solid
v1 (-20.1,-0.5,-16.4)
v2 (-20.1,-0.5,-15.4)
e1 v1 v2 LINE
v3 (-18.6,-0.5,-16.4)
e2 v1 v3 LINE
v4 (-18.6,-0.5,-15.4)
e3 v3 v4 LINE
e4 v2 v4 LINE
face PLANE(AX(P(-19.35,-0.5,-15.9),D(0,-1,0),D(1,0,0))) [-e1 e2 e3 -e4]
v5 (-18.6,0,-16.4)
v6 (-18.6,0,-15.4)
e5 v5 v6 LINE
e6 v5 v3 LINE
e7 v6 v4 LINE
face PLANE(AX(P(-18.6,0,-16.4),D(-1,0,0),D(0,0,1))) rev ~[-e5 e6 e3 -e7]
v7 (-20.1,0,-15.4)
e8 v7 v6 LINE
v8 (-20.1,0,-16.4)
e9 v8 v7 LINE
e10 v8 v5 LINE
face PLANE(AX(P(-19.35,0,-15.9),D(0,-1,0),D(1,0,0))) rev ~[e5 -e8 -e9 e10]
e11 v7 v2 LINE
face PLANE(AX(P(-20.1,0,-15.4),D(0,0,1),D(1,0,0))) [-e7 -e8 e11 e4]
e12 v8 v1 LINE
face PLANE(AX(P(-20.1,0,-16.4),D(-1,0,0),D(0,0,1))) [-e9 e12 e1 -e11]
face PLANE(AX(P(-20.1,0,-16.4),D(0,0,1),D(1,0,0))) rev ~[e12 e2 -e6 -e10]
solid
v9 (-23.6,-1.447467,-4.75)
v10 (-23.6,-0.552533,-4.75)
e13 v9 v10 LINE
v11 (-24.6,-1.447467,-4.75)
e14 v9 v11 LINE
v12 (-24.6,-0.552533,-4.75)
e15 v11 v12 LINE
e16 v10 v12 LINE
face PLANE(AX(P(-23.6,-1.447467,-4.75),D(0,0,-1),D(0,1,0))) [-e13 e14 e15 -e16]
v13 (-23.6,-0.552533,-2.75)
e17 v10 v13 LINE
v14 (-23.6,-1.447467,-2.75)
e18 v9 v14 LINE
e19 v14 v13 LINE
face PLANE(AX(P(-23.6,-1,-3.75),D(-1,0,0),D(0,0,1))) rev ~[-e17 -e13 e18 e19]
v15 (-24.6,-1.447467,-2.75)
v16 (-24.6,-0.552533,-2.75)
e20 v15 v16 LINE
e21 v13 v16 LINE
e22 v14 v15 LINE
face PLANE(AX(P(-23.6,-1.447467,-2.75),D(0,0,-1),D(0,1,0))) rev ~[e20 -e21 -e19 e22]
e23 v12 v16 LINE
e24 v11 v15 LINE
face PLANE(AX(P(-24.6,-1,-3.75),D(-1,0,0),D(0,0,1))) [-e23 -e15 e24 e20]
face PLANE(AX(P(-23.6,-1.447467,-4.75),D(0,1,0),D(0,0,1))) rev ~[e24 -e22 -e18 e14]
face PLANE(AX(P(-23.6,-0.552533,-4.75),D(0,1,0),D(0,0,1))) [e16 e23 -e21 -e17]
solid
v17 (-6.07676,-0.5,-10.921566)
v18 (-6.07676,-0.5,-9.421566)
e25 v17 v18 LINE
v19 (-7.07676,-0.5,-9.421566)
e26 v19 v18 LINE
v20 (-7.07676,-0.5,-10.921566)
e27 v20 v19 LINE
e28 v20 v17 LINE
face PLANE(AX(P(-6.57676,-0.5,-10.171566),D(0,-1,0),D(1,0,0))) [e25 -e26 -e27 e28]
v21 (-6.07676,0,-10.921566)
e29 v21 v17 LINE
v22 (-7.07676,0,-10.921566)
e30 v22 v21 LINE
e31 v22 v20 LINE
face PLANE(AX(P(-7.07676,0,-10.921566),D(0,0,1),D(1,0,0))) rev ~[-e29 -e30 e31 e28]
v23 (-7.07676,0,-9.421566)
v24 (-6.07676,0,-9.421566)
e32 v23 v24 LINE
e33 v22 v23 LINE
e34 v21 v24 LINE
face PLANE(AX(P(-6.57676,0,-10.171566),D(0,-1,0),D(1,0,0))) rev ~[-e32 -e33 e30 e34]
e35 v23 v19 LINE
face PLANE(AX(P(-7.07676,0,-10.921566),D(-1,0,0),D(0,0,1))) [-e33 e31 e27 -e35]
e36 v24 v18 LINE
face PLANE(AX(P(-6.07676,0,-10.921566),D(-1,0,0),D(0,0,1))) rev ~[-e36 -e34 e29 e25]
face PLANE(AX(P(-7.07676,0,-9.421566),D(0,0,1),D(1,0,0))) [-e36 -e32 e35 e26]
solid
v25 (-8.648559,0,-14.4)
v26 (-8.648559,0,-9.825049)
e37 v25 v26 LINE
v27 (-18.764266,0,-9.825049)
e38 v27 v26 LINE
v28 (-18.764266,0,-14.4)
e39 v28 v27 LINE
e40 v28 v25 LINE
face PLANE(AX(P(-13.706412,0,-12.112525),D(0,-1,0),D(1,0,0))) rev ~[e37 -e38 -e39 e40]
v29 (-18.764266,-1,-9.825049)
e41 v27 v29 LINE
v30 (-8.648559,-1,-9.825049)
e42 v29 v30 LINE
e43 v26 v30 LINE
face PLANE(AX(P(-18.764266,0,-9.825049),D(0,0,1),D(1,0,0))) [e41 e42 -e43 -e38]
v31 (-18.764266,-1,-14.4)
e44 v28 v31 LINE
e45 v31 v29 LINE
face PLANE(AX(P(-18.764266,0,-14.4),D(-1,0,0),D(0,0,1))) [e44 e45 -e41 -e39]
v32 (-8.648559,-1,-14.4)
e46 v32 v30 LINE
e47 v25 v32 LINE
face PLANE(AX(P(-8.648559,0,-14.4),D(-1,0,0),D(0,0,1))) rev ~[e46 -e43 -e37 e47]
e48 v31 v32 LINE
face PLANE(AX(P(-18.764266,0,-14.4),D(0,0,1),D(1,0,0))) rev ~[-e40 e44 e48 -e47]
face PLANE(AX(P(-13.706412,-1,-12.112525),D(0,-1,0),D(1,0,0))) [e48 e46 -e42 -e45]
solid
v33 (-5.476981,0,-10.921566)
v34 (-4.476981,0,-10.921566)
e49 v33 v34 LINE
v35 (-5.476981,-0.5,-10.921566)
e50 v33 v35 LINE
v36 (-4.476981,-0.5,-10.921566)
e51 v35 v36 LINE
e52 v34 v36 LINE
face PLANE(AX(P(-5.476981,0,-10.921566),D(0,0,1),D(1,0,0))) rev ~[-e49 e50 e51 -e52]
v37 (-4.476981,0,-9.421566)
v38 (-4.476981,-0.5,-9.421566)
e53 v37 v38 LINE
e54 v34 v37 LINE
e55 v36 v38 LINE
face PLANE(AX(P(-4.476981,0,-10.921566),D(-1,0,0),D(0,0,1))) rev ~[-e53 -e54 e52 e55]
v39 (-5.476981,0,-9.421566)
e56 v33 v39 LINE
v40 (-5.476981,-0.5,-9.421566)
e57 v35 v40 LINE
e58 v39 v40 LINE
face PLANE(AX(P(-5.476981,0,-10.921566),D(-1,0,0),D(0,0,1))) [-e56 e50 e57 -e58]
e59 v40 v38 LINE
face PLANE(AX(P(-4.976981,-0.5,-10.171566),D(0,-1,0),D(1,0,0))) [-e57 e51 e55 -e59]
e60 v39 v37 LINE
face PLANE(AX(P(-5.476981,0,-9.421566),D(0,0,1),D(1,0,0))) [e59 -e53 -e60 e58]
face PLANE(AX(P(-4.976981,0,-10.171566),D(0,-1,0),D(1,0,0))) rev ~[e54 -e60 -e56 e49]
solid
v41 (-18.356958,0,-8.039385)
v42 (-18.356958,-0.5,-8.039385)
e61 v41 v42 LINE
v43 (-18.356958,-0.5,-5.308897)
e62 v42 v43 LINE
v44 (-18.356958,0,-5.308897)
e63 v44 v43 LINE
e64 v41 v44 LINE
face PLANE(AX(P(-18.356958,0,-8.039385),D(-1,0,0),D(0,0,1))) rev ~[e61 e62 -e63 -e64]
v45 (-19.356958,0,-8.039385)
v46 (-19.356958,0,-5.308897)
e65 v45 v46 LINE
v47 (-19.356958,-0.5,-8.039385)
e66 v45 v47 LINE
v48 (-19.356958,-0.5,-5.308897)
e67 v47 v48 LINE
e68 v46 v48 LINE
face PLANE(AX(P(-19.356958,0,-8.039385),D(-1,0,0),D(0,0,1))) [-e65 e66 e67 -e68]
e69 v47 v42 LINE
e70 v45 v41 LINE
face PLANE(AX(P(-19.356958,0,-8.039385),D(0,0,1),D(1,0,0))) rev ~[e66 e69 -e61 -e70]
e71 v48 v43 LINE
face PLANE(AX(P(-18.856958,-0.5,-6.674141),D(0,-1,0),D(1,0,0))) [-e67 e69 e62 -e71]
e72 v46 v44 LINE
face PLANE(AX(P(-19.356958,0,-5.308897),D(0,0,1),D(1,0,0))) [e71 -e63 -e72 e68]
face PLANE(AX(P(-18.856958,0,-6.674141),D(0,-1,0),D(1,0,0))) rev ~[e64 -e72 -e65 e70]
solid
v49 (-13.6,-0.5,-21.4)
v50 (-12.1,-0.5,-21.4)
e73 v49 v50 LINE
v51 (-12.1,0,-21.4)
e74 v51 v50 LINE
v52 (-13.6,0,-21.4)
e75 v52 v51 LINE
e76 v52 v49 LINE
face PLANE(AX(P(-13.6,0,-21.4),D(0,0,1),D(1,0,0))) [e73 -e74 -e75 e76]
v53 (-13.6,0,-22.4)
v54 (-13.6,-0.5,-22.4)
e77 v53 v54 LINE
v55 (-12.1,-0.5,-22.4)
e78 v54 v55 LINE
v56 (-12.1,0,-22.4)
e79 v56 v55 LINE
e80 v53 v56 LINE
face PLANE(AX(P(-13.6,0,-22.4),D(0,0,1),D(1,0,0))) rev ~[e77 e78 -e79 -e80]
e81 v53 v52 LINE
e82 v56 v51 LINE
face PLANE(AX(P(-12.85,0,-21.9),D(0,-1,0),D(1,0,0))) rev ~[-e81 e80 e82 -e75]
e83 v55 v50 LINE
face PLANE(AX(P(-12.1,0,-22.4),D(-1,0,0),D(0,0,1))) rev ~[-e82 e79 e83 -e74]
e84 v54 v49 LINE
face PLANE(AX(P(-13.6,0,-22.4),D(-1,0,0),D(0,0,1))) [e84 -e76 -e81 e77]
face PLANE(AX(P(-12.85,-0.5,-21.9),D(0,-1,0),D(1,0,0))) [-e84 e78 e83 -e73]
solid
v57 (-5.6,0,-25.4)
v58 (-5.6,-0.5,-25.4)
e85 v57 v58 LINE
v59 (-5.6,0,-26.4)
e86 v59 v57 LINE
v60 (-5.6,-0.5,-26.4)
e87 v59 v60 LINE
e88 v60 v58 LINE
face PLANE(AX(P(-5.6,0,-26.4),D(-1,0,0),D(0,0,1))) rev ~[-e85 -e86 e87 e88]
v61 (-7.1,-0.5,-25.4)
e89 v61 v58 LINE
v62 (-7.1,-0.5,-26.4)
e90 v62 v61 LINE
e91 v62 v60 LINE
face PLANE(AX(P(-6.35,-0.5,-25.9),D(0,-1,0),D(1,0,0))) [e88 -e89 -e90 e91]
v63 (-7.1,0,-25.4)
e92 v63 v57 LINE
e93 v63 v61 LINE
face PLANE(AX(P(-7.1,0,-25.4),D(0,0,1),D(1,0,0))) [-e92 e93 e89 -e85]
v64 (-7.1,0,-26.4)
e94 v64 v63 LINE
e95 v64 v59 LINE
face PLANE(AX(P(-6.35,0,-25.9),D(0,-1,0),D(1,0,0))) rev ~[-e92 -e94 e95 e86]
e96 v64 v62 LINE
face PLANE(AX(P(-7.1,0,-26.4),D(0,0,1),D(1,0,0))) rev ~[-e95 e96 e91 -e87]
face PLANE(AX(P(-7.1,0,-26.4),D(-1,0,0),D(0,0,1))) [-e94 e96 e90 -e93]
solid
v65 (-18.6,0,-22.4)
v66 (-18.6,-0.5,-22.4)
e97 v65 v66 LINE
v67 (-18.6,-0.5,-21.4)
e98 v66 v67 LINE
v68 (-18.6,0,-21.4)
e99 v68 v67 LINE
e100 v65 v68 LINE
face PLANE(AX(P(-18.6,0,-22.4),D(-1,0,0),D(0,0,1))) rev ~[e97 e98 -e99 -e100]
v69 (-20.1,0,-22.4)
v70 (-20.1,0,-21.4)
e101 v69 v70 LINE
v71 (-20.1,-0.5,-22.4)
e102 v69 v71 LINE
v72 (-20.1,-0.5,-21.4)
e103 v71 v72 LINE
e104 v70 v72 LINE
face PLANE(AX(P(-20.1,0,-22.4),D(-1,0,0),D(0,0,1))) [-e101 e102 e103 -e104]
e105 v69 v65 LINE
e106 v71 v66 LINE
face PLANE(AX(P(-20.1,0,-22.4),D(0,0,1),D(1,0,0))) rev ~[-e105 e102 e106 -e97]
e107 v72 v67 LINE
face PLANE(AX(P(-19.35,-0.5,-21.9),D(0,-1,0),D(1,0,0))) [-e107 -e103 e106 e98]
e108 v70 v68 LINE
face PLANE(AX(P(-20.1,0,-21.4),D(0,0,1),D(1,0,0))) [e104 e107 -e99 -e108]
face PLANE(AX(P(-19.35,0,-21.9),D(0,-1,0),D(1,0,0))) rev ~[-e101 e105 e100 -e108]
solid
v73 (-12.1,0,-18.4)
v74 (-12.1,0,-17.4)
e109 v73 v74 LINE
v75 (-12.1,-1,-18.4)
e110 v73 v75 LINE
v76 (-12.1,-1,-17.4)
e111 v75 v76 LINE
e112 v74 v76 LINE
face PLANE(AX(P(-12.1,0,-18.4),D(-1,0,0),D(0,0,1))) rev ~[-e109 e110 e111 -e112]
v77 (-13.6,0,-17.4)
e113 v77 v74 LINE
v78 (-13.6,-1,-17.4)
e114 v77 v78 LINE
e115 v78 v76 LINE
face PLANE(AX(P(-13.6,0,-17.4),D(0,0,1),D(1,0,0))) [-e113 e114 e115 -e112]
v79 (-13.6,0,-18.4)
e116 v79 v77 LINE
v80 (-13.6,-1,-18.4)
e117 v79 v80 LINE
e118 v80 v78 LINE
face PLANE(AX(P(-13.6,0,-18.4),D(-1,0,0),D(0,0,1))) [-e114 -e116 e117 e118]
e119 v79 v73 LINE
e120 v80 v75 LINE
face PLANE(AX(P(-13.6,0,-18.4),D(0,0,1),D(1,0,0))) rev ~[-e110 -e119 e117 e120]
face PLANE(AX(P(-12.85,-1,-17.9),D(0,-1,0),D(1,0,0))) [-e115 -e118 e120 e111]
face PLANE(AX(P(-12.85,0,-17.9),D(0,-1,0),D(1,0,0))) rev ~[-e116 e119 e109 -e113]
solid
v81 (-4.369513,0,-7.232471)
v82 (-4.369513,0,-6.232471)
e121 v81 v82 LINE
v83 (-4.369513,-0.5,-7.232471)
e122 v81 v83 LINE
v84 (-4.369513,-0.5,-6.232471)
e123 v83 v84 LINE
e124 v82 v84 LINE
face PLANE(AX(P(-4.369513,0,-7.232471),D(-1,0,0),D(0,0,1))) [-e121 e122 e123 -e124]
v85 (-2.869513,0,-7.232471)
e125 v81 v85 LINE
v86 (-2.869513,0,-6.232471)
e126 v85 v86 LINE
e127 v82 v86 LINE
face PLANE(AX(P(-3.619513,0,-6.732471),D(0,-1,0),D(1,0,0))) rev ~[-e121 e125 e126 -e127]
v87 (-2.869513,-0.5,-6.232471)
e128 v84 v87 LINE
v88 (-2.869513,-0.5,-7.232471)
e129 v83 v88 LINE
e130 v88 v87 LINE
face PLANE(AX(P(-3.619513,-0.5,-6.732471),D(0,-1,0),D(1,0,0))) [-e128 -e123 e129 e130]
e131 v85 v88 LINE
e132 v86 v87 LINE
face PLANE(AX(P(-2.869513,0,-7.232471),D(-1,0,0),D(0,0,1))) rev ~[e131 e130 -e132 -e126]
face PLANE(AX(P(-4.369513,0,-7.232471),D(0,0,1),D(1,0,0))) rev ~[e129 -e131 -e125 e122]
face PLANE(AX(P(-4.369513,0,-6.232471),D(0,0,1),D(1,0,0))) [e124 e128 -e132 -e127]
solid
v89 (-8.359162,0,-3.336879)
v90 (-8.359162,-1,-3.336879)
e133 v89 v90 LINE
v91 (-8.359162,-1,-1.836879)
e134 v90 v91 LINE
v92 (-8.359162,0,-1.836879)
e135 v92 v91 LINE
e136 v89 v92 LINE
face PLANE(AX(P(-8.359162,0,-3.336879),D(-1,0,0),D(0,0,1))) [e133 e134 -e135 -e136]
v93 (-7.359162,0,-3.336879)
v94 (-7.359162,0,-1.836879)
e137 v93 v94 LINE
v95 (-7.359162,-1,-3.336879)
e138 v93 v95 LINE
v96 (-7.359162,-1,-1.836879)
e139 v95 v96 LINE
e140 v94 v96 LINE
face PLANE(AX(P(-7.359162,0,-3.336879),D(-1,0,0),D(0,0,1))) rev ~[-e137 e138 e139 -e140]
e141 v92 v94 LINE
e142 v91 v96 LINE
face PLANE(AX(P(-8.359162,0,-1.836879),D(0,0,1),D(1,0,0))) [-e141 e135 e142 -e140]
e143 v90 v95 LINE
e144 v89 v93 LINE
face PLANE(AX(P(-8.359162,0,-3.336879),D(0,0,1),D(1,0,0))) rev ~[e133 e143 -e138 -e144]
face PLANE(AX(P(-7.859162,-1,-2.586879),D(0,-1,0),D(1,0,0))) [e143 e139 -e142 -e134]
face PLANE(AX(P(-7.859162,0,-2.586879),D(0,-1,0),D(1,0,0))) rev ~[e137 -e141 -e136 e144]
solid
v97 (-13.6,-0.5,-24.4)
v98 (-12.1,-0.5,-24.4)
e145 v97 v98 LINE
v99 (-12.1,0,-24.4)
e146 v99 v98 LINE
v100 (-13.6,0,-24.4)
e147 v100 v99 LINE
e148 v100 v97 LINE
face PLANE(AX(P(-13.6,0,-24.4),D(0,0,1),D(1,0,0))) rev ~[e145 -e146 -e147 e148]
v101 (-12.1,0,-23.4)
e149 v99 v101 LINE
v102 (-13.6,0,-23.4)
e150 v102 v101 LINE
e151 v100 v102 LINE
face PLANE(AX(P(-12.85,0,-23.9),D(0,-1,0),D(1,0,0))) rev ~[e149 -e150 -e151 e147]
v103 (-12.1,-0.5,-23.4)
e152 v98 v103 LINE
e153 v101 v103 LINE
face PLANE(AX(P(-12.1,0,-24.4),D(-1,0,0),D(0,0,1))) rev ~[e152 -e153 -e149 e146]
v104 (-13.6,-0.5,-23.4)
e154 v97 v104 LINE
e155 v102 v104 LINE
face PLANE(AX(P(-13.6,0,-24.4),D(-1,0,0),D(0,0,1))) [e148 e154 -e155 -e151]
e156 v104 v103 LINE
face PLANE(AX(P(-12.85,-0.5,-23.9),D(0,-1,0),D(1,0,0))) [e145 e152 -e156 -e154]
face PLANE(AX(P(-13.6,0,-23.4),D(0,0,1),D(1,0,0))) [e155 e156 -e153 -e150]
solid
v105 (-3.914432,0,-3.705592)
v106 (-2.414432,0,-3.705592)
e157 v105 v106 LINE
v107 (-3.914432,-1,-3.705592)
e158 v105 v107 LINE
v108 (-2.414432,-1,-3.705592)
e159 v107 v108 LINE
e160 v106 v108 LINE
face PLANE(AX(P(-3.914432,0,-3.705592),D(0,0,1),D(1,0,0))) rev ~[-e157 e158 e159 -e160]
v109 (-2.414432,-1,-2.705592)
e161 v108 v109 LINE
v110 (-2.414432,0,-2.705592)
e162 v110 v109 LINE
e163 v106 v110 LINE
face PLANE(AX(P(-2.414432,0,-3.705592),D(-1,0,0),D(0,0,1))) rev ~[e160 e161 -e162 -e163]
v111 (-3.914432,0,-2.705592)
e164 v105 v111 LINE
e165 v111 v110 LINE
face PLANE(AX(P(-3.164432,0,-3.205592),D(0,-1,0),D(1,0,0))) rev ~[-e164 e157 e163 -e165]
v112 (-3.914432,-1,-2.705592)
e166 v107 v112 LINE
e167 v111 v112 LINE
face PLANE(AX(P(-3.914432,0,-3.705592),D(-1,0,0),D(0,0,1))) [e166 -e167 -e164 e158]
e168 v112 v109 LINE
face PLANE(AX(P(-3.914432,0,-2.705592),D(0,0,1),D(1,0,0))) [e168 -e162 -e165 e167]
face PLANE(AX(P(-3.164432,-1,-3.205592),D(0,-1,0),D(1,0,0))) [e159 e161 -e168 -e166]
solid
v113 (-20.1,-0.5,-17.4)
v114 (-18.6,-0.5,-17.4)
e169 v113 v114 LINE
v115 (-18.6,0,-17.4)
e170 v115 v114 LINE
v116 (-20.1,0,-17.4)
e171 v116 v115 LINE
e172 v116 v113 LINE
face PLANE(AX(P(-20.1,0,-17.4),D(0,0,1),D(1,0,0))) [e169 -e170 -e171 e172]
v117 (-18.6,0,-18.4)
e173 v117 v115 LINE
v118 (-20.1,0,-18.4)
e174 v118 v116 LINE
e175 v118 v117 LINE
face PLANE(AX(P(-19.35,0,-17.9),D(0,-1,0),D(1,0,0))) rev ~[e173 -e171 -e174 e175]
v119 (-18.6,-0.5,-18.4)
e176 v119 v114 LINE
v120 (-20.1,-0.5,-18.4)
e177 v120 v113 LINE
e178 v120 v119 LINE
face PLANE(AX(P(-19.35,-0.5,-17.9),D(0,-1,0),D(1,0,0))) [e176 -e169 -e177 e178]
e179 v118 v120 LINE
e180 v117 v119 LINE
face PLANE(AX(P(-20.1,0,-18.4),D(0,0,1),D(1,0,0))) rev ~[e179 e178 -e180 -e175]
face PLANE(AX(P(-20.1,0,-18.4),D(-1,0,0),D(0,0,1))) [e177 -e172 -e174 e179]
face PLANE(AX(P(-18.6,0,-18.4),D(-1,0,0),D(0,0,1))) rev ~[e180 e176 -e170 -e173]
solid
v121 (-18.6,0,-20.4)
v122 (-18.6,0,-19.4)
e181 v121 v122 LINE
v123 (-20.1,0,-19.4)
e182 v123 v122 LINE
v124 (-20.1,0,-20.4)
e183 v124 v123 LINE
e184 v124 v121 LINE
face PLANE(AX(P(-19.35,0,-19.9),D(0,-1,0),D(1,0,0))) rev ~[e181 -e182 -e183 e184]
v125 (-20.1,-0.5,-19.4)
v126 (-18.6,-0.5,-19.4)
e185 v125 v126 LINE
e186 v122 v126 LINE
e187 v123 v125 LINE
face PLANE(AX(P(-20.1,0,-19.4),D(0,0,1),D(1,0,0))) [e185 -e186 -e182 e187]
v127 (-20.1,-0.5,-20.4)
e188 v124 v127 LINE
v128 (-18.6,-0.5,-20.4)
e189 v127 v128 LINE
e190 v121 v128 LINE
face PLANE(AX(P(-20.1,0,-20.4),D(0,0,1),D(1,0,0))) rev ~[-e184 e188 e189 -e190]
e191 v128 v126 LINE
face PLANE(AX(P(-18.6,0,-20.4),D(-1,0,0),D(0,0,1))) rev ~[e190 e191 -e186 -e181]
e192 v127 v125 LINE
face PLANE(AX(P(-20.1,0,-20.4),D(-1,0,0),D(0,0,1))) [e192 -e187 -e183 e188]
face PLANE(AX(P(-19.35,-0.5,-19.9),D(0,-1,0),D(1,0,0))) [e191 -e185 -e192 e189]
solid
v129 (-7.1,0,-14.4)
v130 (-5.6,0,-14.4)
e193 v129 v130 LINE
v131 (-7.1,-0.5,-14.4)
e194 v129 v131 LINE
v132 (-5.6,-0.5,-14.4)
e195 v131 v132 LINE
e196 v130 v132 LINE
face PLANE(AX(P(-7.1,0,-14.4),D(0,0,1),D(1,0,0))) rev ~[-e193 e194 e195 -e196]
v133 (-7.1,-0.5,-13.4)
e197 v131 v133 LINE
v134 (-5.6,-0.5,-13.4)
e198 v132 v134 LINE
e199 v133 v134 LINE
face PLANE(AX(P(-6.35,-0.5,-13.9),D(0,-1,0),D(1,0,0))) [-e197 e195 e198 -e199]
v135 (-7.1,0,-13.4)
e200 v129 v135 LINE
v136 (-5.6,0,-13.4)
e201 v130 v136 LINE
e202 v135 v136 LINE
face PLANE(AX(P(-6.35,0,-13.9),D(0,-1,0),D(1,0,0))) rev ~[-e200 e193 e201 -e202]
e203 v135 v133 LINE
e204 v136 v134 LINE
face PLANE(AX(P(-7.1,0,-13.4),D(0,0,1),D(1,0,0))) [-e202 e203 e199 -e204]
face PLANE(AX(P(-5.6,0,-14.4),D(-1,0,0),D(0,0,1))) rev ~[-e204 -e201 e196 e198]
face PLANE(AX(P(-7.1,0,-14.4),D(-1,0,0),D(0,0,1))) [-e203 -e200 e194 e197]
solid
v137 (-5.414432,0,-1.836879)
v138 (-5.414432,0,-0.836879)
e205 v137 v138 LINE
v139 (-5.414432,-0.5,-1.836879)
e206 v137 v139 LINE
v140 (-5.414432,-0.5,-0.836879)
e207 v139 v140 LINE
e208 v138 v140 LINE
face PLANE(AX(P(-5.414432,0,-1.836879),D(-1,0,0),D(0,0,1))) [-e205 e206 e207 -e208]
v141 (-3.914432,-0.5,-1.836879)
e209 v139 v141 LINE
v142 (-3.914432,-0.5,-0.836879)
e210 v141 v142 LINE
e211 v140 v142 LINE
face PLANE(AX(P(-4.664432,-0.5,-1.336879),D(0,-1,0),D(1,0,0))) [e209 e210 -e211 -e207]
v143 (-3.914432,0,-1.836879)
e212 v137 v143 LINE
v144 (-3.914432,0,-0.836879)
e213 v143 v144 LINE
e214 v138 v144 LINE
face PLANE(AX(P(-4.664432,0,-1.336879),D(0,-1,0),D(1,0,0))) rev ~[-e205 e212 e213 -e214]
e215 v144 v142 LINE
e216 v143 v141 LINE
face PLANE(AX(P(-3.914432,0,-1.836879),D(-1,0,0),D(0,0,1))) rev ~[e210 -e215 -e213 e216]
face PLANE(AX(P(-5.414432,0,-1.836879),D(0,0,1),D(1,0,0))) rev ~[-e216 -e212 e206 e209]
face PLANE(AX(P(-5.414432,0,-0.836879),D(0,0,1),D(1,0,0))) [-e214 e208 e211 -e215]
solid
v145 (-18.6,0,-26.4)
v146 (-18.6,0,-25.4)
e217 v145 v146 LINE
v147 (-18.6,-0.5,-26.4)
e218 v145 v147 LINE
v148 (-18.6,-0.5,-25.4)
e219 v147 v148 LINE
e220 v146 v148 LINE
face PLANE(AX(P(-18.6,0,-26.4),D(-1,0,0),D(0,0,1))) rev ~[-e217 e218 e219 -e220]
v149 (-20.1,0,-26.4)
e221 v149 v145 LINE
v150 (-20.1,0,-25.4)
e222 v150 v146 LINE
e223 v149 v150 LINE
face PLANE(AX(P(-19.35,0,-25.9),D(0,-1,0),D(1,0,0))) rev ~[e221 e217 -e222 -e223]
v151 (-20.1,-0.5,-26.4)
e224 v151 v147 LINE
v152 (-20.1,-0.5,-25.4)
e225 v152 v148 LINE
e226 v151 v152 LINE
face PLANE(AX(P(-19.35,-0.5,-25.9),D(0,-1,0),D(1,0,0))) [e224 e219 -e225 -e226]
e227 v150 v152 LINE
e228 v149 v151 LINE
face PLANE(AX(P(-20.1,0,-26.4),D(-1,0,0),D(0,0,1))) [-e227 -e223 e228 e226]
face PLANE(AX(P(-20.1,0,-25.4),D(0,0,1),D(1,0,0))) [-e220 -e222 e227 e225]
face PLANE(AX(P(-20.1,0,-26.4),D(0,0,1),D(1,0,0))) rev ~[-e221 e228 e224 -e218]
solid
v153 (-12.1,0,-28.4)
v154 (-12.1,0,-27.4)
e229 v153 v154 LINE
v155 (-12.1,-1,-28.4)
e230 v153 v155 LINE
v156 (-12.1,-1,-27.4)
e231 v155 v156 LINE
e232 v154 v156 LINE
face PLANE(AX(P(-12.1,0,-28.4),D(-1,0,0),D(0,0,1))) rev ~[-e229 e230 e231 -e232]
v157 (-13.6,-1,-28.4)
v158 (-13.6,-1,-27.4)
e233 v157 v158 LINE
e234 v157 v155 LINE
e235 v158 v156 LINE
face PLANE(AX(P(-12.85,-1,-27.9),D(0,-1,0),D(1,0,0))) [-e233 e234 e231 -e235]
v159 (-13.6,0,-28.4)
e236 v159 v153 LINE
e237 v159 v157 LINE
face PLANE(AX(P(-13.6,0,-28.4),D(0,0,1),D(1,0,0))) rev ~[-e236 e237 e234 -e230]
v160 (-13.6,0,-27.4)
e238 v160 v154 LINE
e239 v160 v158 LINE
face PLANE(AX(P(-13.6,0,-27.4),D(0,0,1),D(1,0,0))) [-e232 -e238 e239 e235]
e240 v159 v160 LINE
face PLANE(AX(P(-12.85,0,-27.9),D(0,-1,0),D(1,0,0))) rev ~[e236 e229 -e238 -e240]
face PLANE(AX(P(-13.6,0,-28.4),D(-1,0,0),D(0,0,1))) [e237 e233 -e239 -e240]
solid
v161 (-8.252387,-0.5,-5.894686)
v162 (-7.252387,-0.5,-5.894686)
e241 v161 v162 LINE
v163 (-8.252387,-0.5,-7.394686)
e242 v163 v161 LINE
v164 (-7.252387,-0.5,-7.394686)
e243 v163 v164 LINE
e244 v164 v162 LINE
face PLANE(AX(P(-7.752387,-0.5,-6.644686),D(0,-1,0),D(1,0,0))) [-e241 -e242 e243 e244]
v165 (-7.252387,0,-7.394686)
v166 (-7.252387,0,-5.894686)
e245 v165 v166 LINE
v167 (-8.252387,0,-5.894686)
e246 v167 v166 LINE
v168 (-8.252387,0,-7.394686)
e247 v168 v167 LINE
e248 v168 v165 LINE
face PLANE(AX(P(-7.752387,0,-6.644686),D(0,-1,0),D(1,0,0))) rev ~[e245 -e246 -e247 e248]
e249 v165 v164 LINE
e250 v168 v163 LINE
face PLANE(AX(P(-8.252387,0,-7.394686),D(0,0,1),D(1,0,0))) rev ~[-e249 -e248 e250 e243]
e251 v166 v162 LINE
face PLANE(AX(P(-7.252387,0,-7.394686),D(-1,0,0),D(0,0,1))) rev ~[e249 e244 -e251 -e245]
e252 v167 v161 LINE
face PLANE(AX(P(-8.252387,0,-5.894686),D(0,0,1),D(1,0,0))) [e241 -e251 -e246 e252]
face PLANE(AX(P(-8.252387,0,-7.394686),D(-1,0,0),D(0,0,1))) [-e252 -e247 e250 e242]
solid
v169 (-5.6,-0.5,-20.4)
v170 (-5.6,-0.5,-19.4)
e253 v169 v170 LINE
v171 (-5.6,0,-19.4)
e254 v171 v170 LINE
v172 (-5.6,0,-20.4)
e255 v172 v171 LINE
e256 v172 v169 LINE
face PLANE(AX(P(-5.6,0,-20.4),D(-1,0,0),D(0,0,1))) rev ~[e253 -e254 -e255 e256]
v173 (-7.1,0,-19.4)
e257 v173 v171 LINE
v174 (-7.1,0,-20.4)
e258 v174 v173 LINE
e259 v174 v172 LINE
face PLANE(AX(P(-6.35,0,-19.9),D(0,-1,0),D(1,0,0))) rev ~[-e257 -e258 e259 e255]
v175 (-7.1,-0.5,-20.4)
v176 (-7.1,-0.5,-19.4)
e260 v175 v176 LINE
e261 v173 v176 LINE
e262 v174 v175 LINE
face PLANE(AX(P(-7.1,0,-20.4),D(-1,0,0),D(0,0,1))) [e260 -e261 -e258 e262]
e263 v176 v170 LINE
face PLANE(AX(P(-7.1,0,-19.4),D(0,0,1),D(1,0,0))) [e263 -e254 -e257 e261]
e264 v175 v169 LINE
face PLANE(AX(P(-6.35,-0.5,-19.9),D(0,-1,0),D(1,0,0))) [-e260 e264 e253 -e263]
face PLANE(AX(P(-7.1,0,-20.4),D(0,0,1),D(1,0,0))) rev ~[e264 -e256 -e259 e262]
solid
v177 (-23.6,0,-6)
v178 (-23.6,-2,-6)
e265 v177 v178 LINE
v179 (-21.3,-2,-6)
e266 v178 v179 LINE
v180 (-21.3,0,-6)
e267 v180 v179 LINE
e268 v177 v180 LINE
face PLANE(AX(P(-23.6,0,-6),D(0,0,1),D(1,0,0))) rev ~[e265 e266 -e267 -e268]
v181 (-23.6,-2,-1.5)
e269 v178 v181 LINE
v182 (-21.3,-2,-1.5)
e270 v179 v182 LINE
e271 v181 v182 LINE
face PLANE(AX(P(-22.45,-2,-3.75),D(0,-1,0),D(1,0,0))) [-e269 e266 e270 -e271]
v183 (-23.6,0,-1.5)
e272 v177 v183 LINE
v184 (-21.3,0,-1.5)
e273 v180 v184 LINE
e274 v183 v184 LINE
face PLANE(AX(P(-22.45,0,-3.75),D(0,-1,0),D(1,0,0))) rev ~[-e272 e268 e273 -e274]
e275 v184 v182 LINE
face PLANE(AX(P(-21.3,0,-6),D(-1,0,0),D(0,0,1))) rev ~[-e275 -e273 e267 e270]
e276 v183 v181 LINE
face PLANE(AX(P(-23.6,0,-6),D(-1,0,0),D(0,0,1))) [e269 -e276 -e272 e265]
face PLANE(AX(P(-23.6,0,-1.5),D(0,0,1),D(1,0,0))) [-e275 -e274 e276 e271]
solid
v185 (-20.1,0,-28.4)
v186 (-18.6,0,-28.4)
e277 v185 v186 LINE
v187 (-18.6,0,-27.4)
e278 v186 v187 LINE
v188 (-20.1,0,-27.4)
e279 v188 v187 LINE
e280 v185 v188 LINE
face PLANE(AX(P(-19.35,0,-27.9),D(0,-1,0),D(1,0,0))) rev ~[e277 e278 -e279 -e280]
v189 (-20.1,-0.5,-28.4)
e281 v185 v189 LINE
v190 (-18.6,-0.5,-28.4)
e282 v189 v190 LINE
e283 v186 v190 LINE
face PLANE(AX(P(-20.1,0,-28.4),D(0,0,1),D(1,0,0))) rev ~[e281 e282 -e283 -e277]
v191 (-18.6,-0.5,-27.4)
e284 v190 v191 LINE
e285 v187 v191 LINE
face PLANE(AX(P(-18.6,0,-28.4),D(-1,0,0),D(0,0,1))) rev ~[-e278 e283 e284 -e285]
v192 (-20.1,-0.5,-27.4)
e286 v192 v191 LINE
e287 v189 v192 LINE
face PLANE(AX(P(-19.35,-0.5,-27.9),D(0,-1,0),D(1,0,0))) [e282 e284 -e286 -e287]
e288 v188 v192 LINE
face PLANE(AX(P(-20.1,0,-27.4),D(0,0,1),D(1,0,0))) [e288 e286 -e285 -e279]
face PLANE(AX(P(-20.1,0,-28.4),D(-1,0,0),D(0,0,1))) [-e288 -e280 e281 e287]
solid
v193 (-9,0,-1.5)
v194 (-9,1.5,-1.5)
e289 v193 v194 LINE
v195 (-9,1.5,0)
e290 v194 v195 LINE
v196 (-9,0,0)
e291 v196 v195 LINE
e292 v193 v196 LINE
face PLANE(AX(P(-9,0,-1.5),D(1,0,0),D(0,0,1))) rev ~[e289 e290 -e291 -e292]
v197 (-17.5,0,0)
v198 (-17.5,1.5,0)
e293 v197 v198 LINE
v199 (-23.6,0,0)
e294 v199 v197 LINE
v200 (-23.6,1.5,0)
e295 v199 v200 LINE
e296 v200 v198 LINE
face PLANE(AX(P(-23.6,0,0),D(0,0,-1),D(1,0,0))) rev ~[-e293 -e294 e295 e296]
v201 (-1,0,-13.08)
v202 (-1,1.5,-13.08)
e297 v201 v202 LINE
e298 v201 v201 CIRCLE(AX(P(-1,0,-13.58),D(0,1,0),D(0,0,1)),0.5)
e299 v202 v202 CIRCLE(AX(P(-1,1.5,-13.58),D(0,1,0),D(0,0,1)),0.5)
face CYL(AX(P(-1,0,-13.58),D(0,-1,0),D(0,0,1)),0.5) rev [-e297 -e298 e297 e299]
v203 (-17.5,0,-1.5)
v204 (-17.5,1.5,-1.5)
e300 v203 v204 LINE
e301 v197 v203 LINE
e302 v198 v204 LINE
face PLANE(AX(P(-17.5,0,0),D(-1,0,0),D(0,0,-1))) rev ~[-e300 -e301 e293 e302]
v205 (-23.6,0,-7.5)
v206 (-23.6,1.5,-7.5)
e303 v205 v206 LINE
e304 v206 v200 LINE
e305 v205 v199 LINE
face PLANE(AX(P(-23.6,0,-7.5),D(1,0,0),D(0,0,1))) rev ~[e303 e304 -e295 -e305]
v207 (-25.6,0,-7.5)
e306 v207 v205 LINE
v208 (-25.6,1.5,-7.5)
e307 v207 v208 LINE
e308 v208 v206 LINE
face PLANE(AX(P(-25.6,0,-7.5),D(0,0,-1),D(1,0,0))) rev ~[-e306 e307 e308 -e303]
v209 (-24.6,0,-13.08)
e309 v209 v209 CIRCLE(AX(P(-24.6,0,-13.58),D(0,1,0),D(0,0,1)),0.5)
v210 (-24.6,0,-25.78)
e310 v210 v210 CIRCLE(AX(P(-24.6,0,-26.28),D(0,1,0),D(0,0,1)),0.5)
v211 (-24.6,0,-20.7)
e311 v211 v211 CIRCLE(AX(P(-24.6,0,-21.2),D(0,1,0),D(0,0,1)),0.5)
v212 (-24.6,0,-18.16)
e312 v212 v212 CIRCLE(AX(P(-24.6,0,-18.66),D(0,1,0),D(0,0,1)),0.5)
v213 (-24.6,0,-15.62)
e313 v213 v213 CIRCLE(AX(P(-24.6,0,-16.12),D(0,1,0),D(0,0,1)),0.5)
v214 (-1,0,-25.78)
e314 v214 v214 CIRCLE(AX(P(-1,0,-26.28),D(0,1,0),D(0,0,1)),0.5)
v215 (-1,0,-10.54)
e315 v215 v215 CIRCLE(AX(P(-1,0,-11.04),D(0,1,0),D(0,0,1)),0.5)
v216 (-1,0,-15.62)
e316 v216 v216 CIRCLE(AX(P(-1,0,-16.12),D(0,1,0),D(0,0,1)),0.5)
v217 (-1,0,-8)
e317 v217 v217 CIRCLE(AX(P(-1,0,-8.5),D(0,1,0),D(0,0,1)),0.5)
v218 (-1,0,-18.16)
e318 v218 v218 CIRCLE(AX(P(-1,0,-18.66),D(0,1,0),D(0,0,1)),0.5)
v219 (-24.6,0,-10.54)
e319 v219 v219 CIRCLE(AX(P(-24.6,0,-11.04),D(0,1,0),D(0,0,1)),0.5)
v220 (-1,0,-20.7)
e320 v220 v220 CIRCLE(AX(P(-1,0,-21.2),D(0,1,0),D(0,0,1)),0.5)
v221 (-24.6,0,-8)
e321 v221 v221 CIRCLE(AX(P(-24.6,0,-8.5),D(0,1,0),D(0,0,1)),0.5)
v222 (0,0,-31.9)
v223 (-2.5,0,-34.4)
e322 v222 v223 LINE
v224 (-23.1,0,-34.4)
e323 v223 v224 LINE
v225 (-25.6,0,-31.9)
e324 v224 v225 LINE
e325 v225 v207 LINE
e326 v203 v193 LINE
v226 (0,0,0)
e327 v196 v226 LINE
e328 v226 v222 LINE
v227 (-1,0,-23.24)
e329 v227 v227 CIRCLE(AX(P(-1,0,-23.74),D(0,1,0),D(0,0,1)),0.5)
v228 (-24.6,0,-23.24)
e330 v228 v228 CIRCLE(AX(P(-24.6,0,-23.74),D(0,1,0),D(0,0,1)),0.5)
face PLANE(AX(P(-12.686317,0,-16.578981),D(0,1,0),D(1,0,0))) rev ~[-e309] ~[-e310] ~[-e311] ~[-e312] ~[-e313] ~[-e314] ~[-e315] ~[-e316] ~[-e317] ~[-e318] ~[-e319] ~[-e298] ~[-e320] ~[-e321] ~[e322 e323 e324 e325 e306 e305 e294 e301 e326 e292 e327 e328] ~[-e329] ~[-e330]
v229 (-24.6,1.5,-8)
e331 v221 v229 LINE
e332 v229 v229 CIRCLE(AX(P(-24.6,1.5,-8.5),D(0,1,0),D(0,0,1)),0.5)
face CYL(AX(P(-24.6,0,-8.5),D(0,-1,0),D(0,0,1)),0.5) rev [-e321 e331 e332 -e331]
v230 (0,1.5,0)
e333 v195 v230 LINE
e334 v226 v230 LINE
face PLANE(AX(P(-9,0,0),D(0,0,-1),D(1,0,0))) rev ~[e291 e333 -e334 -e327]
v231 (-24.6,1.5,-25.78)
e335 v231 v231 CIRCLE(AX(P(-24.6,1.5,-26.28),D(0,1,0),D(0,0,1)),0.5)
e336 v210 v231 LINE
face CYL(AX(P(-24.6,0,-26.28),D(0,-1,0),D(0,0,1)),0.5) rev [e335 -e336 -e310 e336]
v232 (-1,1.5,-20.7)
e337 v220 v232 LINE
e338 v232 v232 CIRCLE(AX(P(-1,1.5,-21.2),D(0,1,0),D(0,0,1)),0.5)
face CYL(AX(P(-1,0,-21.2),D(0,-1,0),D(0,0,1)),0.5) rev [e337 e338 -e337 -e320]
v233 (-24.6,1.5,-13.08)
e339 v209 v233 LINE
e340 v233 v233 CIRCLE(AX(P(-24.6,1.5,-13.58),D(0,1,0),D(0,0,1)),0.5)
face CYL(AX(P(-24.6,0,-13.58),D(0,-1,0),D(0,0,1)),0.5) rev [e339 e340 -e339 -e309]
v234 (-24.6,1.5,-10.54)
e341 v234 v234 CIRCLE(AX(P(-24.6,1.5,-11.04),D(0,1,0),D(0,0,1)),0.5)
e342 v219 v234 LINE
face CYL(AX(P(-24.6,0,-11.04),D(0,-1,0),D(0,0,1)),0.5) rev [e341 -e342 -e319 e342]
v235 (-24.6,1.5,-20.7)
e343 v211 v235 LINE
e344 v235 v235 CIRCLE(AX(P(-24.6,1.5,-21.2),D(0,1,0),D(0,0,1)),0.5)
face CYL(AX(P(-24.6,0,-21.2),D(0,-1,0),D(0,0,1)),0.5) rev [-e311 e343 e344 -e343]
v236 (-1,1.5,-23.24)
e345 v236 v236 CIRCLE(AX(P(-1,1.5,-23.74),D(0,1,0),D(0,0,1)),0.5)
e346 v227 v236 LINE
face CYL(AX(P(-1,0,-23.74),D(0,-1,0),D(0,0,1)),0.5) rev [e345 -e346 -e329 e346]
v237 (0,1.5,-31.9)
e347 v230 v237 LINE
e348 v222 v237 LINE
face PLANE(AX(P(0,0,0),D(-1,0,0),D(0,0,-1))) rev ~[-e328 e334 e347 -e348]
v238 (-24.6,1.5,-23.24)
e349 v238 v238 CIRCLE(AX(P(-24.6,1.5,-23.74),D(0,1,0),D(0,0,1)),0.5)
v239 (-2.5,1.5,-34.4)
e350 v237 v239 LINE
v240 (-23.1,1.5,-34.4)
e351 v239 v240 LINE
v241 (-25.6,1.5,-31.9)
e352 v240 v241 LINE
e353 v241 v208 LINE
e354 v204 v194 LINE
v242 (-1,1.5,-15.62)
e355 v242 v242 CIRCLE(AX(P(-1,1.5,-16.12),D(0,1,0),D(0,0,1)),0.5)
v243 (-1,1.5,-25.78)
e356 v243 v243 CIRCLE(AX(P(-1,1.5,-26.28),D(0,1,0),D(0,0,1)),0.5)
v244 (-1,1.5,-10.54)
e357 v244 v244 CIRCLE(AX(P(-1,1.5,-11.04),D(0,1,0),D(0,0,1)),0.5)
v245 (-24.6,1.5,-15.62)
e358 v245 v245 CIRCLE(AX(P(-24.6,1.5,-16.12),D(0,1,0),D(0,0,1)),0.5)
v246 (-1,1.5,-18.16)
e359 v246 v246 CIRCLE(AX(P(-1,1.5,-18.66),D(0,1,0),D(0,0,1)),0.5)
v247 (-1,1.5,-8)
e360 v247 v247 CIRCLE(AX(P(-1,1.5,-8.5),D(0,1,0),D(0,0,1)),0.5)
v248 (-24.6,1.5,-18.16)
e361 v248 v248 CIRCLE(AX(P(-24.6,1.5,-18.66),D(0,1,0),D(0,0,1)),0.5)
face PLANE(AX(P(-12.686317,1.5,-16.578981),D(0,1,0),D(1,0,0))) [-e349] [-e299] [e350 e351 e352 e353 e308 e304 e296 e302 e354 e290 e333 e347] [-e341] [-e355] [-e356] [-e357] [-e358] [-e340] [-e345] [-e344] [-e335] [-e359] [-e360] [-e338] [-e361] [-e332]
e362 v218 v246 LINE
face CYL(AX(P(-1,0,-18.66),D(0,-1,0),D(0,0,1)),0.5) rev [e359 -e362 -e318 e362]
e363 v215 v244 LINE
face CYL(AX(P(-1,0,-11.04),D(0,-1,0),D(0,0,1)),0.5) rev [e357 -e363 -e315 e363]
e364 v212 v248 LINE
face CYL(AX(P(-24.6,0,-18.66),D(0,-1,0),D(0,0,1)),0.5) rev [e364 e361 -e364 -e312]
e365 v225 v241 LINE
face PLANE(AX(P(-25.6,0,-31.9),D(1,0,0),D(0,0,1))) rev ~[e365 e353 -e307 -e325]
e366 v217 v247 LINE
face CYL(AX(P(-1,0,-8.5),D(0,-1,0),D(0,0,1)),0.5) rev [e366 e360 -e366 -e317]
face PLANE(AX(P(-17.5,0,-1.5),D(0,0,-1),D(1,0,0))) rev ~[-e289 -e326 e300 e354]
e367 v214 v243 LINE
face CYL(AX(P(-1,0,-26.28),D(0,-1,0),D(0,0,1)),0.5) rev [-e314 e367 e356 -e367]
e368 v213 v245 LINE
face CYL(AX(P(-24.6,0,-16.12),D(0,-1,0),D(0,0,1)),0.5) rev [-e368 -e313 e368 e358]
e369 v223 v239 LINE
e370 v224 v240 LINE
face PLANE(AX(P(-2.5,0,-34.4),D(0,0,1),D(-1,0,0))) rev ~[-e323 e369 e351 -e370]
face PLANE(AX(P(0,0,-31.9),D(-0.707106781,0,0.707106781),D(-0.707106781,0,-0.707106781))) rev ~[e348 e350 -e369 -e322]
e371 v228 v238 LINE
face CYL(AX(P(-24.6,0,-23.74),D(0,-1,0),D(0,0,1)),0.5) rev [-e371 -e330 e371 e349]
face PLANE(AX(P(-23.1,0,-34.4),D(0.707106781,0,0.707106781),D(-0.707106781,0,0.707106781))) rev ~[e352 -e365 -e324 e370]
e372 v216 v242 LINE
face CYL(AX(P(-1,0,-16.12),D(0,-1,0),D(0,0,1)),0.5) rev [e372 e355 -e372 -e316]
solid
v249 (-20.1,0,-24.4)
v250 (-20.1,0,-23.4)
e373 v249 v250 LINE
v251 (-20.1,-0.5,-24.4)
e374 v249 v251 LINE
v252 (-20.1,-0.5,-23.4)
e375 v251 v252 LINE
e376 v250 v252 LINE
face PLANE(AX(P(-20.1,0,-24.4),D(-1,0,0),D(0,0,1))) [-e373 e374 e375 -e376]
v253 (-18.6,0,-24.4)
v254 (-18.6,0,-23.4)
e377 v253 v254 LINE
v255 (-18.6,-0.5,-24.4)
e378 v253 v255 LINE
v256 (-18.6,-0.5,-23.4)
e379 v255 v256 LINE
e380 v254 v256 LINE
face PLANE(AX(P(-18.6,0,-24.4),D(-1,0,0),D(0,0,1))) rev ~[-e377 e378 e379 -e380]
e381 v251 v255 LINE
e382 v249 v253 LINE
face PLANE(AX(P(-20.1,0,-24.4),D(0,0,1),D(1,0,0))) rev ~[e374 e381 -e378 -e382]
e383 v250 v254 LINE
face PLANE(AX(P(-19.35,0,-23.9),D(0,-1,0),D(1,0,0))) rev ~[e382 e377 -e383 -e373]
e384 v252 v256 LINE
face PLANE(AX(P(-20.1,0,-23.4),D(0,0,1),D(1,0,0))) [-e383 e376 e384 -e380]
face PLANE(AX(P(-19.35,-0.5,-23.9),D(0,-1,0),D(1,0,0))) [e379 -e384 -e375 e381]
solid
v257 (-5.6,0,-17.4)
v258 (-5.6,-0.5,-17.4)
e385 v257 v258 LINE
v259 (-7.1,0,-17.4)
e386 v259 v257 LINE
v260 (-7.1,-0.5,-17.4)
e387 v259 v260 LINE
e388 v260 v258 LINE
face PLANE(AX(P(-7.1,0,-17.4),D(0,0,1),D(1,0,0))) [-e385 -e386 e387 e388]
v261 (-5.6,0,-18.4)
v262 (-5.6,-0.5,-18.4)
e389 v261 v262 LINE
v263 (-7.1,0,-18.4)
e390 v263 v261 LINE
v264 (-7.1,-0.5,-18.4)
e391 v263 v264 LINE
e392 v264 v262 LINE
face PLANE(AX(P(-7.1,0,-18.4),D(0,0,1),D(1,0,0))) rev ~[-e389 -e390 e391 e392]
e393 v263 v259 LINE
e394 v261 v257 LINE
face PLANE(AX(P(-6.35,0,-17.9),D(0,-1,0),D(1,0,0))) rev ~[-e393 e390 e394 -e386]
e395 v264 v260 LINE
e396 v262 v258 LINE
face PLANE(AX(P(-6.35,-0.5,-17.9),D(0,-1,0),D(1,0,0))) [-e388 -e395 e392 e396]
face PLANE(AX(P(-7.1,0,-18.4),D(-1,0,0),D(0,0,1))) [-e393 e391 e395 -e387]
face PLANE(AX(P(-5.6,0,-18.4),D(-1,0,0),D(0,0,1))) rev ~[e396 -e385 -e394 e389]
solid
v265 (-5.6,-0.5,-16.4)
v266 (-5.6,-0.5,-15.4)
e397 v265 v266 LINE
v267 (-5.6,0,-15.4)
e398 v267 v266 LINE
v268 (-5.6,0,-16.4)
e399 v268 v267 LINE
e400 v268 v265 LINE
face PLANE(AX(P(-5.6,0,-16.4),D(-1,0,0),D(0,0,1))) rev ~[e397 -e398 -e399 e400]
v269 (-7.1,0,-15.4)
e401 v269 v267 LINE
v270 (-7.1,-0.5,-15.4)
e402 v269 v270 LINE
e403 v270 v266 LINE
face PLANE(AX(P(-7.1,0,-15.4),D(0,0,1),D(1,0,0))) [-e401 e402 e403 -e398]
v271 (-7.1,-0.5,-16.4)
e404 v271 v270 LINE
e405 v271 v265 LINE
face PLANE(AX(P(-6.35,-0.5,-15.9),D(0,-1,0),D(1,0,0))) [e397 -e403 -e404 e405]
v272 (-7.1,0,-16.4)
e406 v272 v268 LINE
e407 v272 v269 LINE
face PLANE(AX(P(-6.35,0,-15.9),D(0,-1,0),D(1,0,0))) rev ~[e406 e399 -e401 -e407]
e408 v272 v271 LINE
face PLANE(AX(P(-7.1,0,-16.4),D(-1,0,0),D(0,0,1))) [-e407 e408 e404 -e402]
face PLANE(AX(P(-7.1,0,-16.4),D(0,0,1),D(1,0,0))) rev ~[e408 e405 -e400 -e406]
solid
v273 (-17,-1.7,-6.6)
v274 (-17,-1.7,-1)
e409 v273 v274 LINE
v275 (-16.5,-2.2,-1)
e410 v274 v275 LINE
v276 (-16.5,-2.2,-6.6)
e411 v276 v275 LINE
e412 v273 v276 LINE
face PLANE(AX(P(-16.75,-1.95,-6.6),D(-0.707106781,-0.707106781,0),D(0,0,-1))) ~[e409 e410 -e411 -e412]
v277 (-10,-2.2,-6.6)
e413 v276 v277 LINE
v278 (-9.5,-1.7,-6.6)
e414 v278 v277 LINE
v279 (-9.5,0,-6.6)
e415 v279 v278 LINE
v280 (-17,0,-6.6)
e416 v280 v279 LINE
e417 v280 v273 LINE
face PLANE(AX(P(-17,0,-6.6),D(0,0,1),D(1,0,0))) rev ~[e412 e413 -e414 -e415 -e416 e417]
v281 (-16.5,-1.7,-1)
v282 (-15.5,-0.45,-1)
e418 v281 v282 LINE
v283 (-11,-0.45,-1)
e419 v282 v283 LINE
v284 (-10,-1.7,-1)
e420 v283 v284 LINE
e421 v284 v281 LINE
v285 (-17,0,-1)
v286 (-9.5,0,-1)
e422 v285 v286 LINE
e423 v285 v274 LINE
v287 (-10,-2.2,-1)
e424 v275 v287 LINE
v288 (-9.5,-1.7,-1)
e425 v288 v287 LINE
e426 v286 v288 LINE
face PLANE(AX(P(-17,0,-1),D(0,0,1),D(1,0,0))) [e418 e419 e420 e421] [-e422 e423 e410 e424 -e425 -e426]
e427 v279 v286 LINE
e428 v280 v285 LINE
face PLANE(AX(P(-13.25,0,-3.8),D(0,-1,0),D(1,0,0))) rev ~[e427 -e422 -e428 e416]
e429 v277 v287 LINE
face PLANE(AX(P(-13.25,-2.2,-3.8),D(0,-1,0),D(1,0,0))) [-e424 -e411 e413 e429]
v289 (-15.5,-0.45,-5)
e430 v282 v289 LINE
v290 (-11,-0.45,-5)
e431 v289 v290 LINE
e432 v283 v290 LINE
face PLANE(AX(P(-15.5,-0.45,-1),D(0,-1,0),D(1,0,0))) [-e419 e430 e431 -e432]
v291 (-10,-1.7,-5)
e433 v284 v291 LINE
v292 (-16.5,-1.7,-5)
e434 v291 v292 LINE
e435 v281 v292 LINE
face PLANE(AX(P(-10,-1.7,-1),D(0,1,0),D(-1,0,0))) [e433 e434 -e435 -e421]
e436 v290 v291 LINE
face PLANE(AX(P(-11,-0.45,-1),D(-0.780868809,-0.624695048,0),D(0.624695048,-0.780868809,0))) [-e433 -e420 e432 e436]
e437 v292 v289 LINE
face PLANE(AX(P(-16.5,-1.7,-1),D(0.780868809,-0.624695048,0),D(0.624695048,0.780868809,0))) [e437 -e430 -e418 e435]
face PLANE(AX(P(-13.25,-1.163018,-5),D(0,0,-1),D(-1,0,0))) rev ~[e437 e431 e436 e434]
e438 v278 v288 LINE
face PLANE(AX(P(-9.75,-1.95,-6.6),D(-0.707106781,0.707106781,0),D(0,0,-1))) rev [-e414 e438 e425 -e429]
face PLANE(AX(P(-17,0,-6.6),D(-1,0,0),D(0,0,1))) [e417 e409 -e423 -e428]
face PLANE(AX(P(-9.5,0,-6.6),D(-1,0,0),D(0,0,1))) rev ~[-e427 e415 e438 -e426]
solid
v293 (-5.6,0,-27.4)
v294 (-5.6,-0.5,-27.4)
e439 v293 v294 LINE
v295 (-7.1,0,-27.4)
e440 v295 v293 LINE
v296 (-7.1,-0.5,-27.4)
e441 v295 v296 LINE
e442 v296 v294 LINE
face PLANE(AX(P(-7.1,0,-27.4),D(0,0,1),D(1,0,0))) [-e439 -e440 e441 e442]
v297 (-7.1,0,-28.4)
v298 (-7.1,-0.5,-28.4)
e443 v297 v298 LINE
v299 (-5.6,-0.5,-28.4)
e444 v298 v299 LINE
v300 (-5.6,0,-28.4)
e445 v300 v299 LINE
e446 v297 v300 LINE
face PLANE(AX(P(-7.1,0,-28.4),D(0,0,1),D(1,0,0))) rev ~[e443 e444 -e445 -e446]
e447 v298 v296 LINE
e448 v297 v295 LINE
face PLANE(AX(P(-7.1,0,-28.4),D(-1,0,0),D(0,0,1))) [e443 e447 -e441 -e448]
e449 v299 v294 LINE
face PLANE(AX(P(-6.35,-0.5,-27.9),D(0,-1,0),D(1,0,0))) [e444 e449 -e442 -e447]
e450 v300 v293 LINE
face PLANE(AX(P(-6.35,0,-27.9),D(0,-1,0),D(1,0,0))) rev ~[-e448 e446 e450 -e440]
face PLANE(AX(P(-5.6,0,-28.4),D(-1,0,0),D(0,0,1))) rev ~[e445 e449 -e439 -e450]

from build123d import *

# Parameters (mm, degrees)
SKETCH1_R             = 0.5
PCB_DEPTH             = 1.5
SKETCH5_W             = 7.5
SKETCH5_H             = 5.6
BOSS_EXTRUDE4_DEPTH   = 2.2
CHAMFER1_SIZE         = 0.5
CUT_EXTRUDE1_DEPTH    = 4
SKETCH5_4_W           = 2.3
SKETCH5_4_H           = 4.5
BUTTON_BODY_DEPTH     = 2
SKETCH11_W            = 2
SKETCH11_H            = 0.89493309
BUTTON_ACTUATOR_DEPTH = 1
SKETCH5_5_W           = 1.5
SKETCH5_5_H           = 1
COMPONENTS1_DEPTH     = 1
SKETCH5_5_W_2         = 10.115707705
SKETCH5_5_H_2         = 4.574950916
COMPONENTS1_2_DEPTH   = 1
COMPONENTS1_3_DEPTH   = 1
COMPONENTS1_4_DEPTH   = 1
SKETCH5_5_W_3         = 1
SKETCH5_5_H_3         = 1.5
COMPONENTS1_5_DEPTH   = 1
SKETCH5_6_W           = 1.5
SKETCH5_6_H           = 1
COMPONENTS_2_DEPTH    = 0.5
COMPONENTS_2_2_DEPTH  = 0.5
COMPONENTS_2_3_DEPTH  = 0.5
COMPONENTS_2_4_DEPTH  = 0.5
COMPONENTS_2_5_DEPTH  = 0.5
COMPONENTS_2_6_DEPTH  = 0.5
COMPONENTS_2_7_DEPTH  = 0.5
COMPONENTS_2_8_DEPTH  = 0.5
COMPONENTS_2_9_DEPTH  = 0.5
SKETCH5_6_W_2         = 1
SKETCH5_6_H_2         = 2.730487257
COMPONENTS_2_10_DEPTH = 0.5
COMPONENTS_2_11_DEPTH = 0.5
SKETCH5_6_H_3         = 1.5
COMPONENTS_2_12_DEPTH = 0.5
COMPONENTS_2_13_DEPTH = 0.5
COMPONENTS_2_14_DEPTH = 0.5
COMPONENTS_2_15_DEPTH = 0.5
COMPONENTS_2_16_DEPTH = 0.5
COMPONENTS_2_17_DEPTH = 0.5
COMPONENTS_2_18_DEPTH = 0.5
COMPONENTS_2_19_DEPTH = 0.5
COMPONENTS_2_20_DEPTH = 0.5
COMPONENTS_2_21_DEPTH = 0.5


with BuildPart() as part:
    # Sketch1 → PCB (new body)
    with BuildSketch(Plane(origin=(0, 0, 0), x_dir=(1, 0, 0), z_dir=(0, 1, 0))):
        Polygon((0, 0), (0, 31.9), (-2.5, 34.4), (-23.1, 34.4), (-25.6, 31.9), (-25.6, 7.5), (-23.6, 7.5), (-23.6, 0), (-17.5, 0), (-17.5, 1.5), (-9, 1.5), (-9, 0), align=None)
        with Locations(Location((-24.6, 8.5, 0), (0, 0, 270))):
            Circle(SKETCH1_R, mode=Mode.SUBTRACT)
        with Locations(Location((-1, 8.5, 0), (0, 0, 270))):
            Circle(SKETCH1_R, mode=Mode.SUBTRACT)
        with Locations(Location((-24.6, 11.04, 0), (0, 0, 270))):
            Circle(SKETCH1_R, mode=Mode.SUBTRACT)
        with Locations(Location((-1, 11.04, 0), (0, 0, 270))):
            Circle(SKETCH1_R, mode=Mode.SUBTRACT)
        with Locations(Location((-24.6, 13.58, 0), (0, 0, 270))):
            Circle(SKETCH1_R, mode=Mode.SUBTRACT)
        with Locations(Location((-1, 13.58, 0), (0, 0, 270))):
            Circle(SKETCH1_R, mode=Mode.SUBTRACT)
        with Locations(Location((-24.6, 16.12, 0), (0, 0, 270))):
            Circle(SKETCH1_R, mode=Mode.SUBTRACT)
        with Locations(Location((-1, 16.12, 0), (0, 0, 270))):
            Circle(SKETCH1_R, mode=Mode.SUBTRACT)
        with Locations(Location((-24.6, 18.66, 0), (0, 0, 270))):
            Circle(SKETCH1_R, mode=Mode.SUBTRACT)
        with Locations(Location((-1, 18.66, 0), (0, 0, 270))):
            Circle(SKETCH1_R, mode=Mode.SUBTRACT)
        with Locations(Location((-24.6, 21.2, 0), (0, 0, 270))):
            Circle(SKETCH1_R, mode=Mode.SUBTRACT)
        with Locations(Location((-1, 21.2, 0), (0, 0, 270))):
            Circle(SKETCH1_R, mode=Mode.SUBTRACT)
        with Locations(Location((-24.6, 23.74, 0), (0, 0, 270))):
            Circle(SKETCH1_R, mode=Mode.SUBTRACT)
        with Locations(Location((-1, 23.74, 0), (0, 0, 270))):
            Circle(SKETCH1_R, mode=Mode.SUBTRACT)
        with Locations(Location((-24.6, 26.28, 0), (0, 0, 270))):
            Circle(SKETCH1_R, mode=Mode.SUBTRACT)
        with Locations(Location((-1, 26.28, 0), (0, 0, 270))):
            Circle(SKETCH1_R, mode=Mode.SUBTRACT)
    extrude(amount=PCB_DEPTH)


with BuildPart() as body_2:
    # Sketch5 → Boss-Extrude4 (new body)
    with BuildSketch(Plane.XZ):
        with Locations((-13.25, -3.8)):
            Rectangle(SKETCH5_W, SKETCH5_H)
    extrude(amount=BOSS_EXTRUDE4_DEPTH)

    # Chamfer1
    chamfer1_edges = [body_2.edges().sort_by_distance(p)[0] for p in [
        (-17, -2.2, -3.8),
        (-9.5, -2.2, -3.8),
    ]]
    chamfer(chamfer1_edges, length=CHAMFER1_SIZE)

    # Sketch12 → Cut-Extrude1 (cut)
    with BuildSketch(Plane.XY.offset(-1)):
        Polygon((-15.5, -0.45), (-11, -0.45), (-10, -1.7), (-16.5, -1.7), align=None)
    extrude(amount=-CUT_EXTRUDE1_DEPTH, mode=Mode.SUBTRACT)


with BuildPart() as body_3:
    # Sketch5<4> → Button Body (new body)
    with BuildSketch(Plane.XZ):
        with Locations((-22.45, -3.75)):
            Rectangle(SKETCH5_4_W, SKETCH5_4_H)
    extrude(amount=BUTTON_BODY_DEPTH)


with BuildPart() as body_4:
    # Sketch11 → Button Actuator (new body)
    with BuildSketch(Plane.ZY.offset(23.6)):
        with Locations((-3.75, -1)):
            Rectangle(SKETCH11_W, SKETCH11_H)
    extrude(amount=BUTTON_ACTUATOR_DEPTH)


with BuildPart() as body_5:
    # Sketch5<5> → Components1 (new body)
    with BuildSketch(Plane.XZ):
        with Locations((-3.164431534, -3.205591578)):
            Rectangle(SKETCH5_5_W, SKETCH5_5_H)
    extrude(amount=COMPONENTS1_DEPTH)


with BuildPart() as body_6:
    # Sketch5<5> → Components1 2 (new body)
    with BuildSketch(Plane.XZ):
        with Locations((-13.706412385, -12.112524542)):
            Rectangle(SKETCH5_5_W_2, SKETCH5_5_H_2)
    extrude(amount=COMPONENTS1_2_DEPTH)


with BuildPart() as body_7:
    # Sketch5<5> → Components1 3 (new body)
    with BuildSketch(Plane.XZ):
        with Locations((-12.85, -27.9)):
            Rectangle(SKETCH5_5_W, SKETCH5_5_H)
    extrude(amount=COMPONENTS1_3_DEPTH)


with BuildPart() as body_8:
    # Sketch5<5> → Components1 4 (new body)
    with BuildSketch(Plane.XZ):
        with Locations((-12.85, -17.9)):
            Rectangle(SKETCH5_5_W, SKETCH5_5_H)
    extrude(amount=COMPONENTS1_4_DEPTH)


with BuildPart() as body_9:
    # Sketch5<5> → Components1 5 (new body)
    with BuildSketch(Plane.XZ):
        with Locations((-7.859161772, -2.586878922)):
            Rectangle(SKETCH5_5_W_3, SKETCH5_5_H_3)
    extrude(amount=COMPONENTS1_5_DEPTH)


with BuildPart() as body_10:
    # Sketch5<6> → Components 2 (new body)
    with BuildSketch(Plane.XZ):
        with Locations((-19.35, -15.9)):
            Rectangle(SKETCH5_6_W, SKETCH5_6_H)
    extrude(amount=COMPONENTS_2_DEPTH)


with BuildPart() as body_11:
    # Sketch5<6> → Components 2 2 (new body)
    with BuildSketch(Plane.XZ):
        with Locations((-19.35, -17.9)):
            Rectangle(SKETCH5_6_W, SKETCH5_6_H)
    extrude(amount=COMPONENTS_2_2_DEPTH)


with BuildPart() as body_12:
    # Sketch5<6> → Components 2 3 (new body)
    with BuildSketch(Plane.XZ):
        with Locations((-19.35, -19.9)):
            Rectangle(SKETCH5_6_W, SKETCH5_6_H)
    extrude(amount=COMPONENTS_2_3_DEPTH)


with BuildPart() as body_13:
    # Sketch5<6> → Components 2 4 (new body)
    with BuildSketch(Plane.XZ):
        with Locations((-19.35, -21.9)):
            Rectangle(SKETCH5_6_W, SKETCH5_6_H)
    extrude(amount=COMPONENTS_2_4_DEPTH)


with BuildPart() as body_14:
    # Sketch5<6> → Components 2 5 (new body)
    with BuildSketch(Plane.XZ):
        with Locations((-19.35, -23.9)):
            Rectangle(SKETCH5_6_W, SKETCH5_6_H)
    extrude(amount=COMPONENTS_2_5_DEPTH)


with BuildPart() as body_15:
    # Sketch5<6> → Components 2 6 (new body)
    with BuildSketch(Plane.XZ):
        with Locations((-19.35, -25.9)):
            Rectangle(SKETCH5_6_W, SKETCH5_6_H)
    extrude(amount=COMPONENTS_2_6_DEPTH)


with BuildPart() as body_16:
    # Sketch5<6> → Components 2 7 (new body)
    with BuildSketch(Plane.XZ):
        with Locations((-19.35, -27.9)):
            Rectangle(SKETCH5_6_W, SKETCH5_6_H)
    extrude(amount=COMPONENTS_2_7_DEPTH)


with BuildPart() as body_17:
    # Sketch5<6> → Components 2 8 (new body)
    with BuildSketch(Plane.XZ):
        with Locations((-12.85, -23.9)):
            Rectangle(SKETCH5_6_W, SKETCH5_6_H)
    extrude(amount=COMPONENTS_2_8_DEPTH)


with BuildPart() as body_18:
    # Sketch5<6> → Components 2 9 (new body)
    with BuildSketch(Plane.XZ):
        with Locations((-12.85, -21.9)):
            Rectangle(SKETCH5_6_W, SKETCH5_6_H)
    extrude(amount=COMPONENTS_2_9_DEPTH)


with BuildPart() as body_19:
    # Sketch5<6> → Components 2 10 (new body)
    with BuildSketch(Plane.XZ):
        with Locations((-18.856957667, -6.674141125)):
            Rectangle(SKETCH5_6_W_2, SKETCH5_6_H_2)
    extrude(amount=COMPONENTS_2_10_DEPTH)


with BuildPart() as body_20:
    # Sketch5<6> → Components 2 11 (new body)
    with BuildSketch(Plane.XZ):
        with Locations((-4.664431534, -1.336878922)):
            Rectangle(SKETCH5_6_W, SKETCH5_6_H)
    extrude(amount=COMPONENTS_2_11_DEPTH)


with BuildPart() as body_21:
    # Sketch5<6> → Components 2 12 (new body)
    with BuildSketch(Plane.XZ):
        with Locations((-7.752386826, -6.644686373)):
            Rectangle(SKETCH5_6_W_2, SKETCH5_6_H_3)
    extrude(amount=COMPONENTS_2_12_DEPTH)


with BuildPart() as body_22:
    # Sketch5<6> → Components 2 13 (new body)
    with BuildSketch(Plane.XZ):
        with Locations((-3.619512743, -6.732470951)):
            Rectangle(SKETCH5_6_W, SKETCH5_6_H)
    extrude(amount=COMPONENTS_2_13_DEPTH)


with BuildPart() as body_23:
    # Sketch5<6> → Components 2 14 (new body)
    with BuildSketch(Plane.XZ):
        with Locations((-4.976980779, -10.171565746)):
            Rectangle(SKETCH5_6_W_2, SKETCH5_6_H_3)
    extrude(amount=COMPONENTS_2_14_DEPTH)


with BuildPart() as body_24:
    # Sketch5<6> → Components 2 15 (new body)
    with BuildSketch(Plane.XZ):
        with Locations((-6.576760368, -10.171565746)):
            Rectangle(SKETCH5_6_W_2, SKETCH5_6_H_3)
    extrude(amount=COMPONENTS_2_15_DEPTH)


with BuildPart() as body_25:
    # Sketch5<6> → Components 2 16 (new body)
    with BuildSketch(Plane.XZ):
        with Locations((-6.35, -13.9)):
            Rectangle(SKETCH5_6_W, SKETCH5_6_H)
    extrude(amount=COMPONENTS_2_16_DEPTH)


with BuildPart() as body_26:
    # Sketch5<6> → Components 2 17 (new body)
    with BuildSketch(Plane.XZ):
        with Locations((-6.35, -15.9)):
            Rectangle(SKETCH5_6_W, SKETCH5_6_H)
    extrude(amount=COMPONENTS_2_17_DEPTH)


with BuildPart() as body_27:
    # Sketch5<6> → Components 2 18 (new body)
    with BuildSketch(Plane.XZ):
        with Locations((-6.35, -17.9)):
            Rectangle(SKETCH5_6_W, SKETCH5_6_H)
    extrude(amount=COMPONENTS_2_18_DEPTH)


with BuildPart() as body_28:
    # Sketch5<6> → Components 2 19 (new body)
    with BuildSketch(Plane.XZ):
        with Locations((-6.35, -19.9)):
            Rectangle(SKETCH5_6_W, SKETCH5_6_H)
    extrude(amount=COMPONENTS_2_19_DEPTH)


with BuildPart() as body_29:
    # Sketch5<6> → Components 2 20 (new body)
    with BuildSketch(Plane.XZ):
        with Locations((-6.35, -25.9)):
            Rectangle(SKETCH5_6_W, SKETCH5_6_H)
    extrude(amount=COMPONENTS_2_20_DEPTH)


with BuildPart() as body_30:
    # Sketch5<6> → Components 2 21 (new body)
    with BuildSketch(Plane.XZ):
        with Locations((-6.35, -27.9)):
            Rectangle(SKETCH5_6_W, SKETCH5_6_H)
    extrude(amount=COMPONENTS_2_21_DEPTH)


solid = Compound([part.part, body_2.part, body_3.part, body_4.part, body_5.part, body_6.part, body_7.part, body_8.part, body_9.part, body_10.part, body_11.part, body_12.part, body_13.part, body_14.part, body_15.part, body_16.part, body_17.part, body_18.part, body_19.part, body_20.part, body_21.part, body_22.part, body_23.part, body_24.part, body_25.part, body_26.part, body_27.part, body_28.part, body_29.part, body_30.part])
